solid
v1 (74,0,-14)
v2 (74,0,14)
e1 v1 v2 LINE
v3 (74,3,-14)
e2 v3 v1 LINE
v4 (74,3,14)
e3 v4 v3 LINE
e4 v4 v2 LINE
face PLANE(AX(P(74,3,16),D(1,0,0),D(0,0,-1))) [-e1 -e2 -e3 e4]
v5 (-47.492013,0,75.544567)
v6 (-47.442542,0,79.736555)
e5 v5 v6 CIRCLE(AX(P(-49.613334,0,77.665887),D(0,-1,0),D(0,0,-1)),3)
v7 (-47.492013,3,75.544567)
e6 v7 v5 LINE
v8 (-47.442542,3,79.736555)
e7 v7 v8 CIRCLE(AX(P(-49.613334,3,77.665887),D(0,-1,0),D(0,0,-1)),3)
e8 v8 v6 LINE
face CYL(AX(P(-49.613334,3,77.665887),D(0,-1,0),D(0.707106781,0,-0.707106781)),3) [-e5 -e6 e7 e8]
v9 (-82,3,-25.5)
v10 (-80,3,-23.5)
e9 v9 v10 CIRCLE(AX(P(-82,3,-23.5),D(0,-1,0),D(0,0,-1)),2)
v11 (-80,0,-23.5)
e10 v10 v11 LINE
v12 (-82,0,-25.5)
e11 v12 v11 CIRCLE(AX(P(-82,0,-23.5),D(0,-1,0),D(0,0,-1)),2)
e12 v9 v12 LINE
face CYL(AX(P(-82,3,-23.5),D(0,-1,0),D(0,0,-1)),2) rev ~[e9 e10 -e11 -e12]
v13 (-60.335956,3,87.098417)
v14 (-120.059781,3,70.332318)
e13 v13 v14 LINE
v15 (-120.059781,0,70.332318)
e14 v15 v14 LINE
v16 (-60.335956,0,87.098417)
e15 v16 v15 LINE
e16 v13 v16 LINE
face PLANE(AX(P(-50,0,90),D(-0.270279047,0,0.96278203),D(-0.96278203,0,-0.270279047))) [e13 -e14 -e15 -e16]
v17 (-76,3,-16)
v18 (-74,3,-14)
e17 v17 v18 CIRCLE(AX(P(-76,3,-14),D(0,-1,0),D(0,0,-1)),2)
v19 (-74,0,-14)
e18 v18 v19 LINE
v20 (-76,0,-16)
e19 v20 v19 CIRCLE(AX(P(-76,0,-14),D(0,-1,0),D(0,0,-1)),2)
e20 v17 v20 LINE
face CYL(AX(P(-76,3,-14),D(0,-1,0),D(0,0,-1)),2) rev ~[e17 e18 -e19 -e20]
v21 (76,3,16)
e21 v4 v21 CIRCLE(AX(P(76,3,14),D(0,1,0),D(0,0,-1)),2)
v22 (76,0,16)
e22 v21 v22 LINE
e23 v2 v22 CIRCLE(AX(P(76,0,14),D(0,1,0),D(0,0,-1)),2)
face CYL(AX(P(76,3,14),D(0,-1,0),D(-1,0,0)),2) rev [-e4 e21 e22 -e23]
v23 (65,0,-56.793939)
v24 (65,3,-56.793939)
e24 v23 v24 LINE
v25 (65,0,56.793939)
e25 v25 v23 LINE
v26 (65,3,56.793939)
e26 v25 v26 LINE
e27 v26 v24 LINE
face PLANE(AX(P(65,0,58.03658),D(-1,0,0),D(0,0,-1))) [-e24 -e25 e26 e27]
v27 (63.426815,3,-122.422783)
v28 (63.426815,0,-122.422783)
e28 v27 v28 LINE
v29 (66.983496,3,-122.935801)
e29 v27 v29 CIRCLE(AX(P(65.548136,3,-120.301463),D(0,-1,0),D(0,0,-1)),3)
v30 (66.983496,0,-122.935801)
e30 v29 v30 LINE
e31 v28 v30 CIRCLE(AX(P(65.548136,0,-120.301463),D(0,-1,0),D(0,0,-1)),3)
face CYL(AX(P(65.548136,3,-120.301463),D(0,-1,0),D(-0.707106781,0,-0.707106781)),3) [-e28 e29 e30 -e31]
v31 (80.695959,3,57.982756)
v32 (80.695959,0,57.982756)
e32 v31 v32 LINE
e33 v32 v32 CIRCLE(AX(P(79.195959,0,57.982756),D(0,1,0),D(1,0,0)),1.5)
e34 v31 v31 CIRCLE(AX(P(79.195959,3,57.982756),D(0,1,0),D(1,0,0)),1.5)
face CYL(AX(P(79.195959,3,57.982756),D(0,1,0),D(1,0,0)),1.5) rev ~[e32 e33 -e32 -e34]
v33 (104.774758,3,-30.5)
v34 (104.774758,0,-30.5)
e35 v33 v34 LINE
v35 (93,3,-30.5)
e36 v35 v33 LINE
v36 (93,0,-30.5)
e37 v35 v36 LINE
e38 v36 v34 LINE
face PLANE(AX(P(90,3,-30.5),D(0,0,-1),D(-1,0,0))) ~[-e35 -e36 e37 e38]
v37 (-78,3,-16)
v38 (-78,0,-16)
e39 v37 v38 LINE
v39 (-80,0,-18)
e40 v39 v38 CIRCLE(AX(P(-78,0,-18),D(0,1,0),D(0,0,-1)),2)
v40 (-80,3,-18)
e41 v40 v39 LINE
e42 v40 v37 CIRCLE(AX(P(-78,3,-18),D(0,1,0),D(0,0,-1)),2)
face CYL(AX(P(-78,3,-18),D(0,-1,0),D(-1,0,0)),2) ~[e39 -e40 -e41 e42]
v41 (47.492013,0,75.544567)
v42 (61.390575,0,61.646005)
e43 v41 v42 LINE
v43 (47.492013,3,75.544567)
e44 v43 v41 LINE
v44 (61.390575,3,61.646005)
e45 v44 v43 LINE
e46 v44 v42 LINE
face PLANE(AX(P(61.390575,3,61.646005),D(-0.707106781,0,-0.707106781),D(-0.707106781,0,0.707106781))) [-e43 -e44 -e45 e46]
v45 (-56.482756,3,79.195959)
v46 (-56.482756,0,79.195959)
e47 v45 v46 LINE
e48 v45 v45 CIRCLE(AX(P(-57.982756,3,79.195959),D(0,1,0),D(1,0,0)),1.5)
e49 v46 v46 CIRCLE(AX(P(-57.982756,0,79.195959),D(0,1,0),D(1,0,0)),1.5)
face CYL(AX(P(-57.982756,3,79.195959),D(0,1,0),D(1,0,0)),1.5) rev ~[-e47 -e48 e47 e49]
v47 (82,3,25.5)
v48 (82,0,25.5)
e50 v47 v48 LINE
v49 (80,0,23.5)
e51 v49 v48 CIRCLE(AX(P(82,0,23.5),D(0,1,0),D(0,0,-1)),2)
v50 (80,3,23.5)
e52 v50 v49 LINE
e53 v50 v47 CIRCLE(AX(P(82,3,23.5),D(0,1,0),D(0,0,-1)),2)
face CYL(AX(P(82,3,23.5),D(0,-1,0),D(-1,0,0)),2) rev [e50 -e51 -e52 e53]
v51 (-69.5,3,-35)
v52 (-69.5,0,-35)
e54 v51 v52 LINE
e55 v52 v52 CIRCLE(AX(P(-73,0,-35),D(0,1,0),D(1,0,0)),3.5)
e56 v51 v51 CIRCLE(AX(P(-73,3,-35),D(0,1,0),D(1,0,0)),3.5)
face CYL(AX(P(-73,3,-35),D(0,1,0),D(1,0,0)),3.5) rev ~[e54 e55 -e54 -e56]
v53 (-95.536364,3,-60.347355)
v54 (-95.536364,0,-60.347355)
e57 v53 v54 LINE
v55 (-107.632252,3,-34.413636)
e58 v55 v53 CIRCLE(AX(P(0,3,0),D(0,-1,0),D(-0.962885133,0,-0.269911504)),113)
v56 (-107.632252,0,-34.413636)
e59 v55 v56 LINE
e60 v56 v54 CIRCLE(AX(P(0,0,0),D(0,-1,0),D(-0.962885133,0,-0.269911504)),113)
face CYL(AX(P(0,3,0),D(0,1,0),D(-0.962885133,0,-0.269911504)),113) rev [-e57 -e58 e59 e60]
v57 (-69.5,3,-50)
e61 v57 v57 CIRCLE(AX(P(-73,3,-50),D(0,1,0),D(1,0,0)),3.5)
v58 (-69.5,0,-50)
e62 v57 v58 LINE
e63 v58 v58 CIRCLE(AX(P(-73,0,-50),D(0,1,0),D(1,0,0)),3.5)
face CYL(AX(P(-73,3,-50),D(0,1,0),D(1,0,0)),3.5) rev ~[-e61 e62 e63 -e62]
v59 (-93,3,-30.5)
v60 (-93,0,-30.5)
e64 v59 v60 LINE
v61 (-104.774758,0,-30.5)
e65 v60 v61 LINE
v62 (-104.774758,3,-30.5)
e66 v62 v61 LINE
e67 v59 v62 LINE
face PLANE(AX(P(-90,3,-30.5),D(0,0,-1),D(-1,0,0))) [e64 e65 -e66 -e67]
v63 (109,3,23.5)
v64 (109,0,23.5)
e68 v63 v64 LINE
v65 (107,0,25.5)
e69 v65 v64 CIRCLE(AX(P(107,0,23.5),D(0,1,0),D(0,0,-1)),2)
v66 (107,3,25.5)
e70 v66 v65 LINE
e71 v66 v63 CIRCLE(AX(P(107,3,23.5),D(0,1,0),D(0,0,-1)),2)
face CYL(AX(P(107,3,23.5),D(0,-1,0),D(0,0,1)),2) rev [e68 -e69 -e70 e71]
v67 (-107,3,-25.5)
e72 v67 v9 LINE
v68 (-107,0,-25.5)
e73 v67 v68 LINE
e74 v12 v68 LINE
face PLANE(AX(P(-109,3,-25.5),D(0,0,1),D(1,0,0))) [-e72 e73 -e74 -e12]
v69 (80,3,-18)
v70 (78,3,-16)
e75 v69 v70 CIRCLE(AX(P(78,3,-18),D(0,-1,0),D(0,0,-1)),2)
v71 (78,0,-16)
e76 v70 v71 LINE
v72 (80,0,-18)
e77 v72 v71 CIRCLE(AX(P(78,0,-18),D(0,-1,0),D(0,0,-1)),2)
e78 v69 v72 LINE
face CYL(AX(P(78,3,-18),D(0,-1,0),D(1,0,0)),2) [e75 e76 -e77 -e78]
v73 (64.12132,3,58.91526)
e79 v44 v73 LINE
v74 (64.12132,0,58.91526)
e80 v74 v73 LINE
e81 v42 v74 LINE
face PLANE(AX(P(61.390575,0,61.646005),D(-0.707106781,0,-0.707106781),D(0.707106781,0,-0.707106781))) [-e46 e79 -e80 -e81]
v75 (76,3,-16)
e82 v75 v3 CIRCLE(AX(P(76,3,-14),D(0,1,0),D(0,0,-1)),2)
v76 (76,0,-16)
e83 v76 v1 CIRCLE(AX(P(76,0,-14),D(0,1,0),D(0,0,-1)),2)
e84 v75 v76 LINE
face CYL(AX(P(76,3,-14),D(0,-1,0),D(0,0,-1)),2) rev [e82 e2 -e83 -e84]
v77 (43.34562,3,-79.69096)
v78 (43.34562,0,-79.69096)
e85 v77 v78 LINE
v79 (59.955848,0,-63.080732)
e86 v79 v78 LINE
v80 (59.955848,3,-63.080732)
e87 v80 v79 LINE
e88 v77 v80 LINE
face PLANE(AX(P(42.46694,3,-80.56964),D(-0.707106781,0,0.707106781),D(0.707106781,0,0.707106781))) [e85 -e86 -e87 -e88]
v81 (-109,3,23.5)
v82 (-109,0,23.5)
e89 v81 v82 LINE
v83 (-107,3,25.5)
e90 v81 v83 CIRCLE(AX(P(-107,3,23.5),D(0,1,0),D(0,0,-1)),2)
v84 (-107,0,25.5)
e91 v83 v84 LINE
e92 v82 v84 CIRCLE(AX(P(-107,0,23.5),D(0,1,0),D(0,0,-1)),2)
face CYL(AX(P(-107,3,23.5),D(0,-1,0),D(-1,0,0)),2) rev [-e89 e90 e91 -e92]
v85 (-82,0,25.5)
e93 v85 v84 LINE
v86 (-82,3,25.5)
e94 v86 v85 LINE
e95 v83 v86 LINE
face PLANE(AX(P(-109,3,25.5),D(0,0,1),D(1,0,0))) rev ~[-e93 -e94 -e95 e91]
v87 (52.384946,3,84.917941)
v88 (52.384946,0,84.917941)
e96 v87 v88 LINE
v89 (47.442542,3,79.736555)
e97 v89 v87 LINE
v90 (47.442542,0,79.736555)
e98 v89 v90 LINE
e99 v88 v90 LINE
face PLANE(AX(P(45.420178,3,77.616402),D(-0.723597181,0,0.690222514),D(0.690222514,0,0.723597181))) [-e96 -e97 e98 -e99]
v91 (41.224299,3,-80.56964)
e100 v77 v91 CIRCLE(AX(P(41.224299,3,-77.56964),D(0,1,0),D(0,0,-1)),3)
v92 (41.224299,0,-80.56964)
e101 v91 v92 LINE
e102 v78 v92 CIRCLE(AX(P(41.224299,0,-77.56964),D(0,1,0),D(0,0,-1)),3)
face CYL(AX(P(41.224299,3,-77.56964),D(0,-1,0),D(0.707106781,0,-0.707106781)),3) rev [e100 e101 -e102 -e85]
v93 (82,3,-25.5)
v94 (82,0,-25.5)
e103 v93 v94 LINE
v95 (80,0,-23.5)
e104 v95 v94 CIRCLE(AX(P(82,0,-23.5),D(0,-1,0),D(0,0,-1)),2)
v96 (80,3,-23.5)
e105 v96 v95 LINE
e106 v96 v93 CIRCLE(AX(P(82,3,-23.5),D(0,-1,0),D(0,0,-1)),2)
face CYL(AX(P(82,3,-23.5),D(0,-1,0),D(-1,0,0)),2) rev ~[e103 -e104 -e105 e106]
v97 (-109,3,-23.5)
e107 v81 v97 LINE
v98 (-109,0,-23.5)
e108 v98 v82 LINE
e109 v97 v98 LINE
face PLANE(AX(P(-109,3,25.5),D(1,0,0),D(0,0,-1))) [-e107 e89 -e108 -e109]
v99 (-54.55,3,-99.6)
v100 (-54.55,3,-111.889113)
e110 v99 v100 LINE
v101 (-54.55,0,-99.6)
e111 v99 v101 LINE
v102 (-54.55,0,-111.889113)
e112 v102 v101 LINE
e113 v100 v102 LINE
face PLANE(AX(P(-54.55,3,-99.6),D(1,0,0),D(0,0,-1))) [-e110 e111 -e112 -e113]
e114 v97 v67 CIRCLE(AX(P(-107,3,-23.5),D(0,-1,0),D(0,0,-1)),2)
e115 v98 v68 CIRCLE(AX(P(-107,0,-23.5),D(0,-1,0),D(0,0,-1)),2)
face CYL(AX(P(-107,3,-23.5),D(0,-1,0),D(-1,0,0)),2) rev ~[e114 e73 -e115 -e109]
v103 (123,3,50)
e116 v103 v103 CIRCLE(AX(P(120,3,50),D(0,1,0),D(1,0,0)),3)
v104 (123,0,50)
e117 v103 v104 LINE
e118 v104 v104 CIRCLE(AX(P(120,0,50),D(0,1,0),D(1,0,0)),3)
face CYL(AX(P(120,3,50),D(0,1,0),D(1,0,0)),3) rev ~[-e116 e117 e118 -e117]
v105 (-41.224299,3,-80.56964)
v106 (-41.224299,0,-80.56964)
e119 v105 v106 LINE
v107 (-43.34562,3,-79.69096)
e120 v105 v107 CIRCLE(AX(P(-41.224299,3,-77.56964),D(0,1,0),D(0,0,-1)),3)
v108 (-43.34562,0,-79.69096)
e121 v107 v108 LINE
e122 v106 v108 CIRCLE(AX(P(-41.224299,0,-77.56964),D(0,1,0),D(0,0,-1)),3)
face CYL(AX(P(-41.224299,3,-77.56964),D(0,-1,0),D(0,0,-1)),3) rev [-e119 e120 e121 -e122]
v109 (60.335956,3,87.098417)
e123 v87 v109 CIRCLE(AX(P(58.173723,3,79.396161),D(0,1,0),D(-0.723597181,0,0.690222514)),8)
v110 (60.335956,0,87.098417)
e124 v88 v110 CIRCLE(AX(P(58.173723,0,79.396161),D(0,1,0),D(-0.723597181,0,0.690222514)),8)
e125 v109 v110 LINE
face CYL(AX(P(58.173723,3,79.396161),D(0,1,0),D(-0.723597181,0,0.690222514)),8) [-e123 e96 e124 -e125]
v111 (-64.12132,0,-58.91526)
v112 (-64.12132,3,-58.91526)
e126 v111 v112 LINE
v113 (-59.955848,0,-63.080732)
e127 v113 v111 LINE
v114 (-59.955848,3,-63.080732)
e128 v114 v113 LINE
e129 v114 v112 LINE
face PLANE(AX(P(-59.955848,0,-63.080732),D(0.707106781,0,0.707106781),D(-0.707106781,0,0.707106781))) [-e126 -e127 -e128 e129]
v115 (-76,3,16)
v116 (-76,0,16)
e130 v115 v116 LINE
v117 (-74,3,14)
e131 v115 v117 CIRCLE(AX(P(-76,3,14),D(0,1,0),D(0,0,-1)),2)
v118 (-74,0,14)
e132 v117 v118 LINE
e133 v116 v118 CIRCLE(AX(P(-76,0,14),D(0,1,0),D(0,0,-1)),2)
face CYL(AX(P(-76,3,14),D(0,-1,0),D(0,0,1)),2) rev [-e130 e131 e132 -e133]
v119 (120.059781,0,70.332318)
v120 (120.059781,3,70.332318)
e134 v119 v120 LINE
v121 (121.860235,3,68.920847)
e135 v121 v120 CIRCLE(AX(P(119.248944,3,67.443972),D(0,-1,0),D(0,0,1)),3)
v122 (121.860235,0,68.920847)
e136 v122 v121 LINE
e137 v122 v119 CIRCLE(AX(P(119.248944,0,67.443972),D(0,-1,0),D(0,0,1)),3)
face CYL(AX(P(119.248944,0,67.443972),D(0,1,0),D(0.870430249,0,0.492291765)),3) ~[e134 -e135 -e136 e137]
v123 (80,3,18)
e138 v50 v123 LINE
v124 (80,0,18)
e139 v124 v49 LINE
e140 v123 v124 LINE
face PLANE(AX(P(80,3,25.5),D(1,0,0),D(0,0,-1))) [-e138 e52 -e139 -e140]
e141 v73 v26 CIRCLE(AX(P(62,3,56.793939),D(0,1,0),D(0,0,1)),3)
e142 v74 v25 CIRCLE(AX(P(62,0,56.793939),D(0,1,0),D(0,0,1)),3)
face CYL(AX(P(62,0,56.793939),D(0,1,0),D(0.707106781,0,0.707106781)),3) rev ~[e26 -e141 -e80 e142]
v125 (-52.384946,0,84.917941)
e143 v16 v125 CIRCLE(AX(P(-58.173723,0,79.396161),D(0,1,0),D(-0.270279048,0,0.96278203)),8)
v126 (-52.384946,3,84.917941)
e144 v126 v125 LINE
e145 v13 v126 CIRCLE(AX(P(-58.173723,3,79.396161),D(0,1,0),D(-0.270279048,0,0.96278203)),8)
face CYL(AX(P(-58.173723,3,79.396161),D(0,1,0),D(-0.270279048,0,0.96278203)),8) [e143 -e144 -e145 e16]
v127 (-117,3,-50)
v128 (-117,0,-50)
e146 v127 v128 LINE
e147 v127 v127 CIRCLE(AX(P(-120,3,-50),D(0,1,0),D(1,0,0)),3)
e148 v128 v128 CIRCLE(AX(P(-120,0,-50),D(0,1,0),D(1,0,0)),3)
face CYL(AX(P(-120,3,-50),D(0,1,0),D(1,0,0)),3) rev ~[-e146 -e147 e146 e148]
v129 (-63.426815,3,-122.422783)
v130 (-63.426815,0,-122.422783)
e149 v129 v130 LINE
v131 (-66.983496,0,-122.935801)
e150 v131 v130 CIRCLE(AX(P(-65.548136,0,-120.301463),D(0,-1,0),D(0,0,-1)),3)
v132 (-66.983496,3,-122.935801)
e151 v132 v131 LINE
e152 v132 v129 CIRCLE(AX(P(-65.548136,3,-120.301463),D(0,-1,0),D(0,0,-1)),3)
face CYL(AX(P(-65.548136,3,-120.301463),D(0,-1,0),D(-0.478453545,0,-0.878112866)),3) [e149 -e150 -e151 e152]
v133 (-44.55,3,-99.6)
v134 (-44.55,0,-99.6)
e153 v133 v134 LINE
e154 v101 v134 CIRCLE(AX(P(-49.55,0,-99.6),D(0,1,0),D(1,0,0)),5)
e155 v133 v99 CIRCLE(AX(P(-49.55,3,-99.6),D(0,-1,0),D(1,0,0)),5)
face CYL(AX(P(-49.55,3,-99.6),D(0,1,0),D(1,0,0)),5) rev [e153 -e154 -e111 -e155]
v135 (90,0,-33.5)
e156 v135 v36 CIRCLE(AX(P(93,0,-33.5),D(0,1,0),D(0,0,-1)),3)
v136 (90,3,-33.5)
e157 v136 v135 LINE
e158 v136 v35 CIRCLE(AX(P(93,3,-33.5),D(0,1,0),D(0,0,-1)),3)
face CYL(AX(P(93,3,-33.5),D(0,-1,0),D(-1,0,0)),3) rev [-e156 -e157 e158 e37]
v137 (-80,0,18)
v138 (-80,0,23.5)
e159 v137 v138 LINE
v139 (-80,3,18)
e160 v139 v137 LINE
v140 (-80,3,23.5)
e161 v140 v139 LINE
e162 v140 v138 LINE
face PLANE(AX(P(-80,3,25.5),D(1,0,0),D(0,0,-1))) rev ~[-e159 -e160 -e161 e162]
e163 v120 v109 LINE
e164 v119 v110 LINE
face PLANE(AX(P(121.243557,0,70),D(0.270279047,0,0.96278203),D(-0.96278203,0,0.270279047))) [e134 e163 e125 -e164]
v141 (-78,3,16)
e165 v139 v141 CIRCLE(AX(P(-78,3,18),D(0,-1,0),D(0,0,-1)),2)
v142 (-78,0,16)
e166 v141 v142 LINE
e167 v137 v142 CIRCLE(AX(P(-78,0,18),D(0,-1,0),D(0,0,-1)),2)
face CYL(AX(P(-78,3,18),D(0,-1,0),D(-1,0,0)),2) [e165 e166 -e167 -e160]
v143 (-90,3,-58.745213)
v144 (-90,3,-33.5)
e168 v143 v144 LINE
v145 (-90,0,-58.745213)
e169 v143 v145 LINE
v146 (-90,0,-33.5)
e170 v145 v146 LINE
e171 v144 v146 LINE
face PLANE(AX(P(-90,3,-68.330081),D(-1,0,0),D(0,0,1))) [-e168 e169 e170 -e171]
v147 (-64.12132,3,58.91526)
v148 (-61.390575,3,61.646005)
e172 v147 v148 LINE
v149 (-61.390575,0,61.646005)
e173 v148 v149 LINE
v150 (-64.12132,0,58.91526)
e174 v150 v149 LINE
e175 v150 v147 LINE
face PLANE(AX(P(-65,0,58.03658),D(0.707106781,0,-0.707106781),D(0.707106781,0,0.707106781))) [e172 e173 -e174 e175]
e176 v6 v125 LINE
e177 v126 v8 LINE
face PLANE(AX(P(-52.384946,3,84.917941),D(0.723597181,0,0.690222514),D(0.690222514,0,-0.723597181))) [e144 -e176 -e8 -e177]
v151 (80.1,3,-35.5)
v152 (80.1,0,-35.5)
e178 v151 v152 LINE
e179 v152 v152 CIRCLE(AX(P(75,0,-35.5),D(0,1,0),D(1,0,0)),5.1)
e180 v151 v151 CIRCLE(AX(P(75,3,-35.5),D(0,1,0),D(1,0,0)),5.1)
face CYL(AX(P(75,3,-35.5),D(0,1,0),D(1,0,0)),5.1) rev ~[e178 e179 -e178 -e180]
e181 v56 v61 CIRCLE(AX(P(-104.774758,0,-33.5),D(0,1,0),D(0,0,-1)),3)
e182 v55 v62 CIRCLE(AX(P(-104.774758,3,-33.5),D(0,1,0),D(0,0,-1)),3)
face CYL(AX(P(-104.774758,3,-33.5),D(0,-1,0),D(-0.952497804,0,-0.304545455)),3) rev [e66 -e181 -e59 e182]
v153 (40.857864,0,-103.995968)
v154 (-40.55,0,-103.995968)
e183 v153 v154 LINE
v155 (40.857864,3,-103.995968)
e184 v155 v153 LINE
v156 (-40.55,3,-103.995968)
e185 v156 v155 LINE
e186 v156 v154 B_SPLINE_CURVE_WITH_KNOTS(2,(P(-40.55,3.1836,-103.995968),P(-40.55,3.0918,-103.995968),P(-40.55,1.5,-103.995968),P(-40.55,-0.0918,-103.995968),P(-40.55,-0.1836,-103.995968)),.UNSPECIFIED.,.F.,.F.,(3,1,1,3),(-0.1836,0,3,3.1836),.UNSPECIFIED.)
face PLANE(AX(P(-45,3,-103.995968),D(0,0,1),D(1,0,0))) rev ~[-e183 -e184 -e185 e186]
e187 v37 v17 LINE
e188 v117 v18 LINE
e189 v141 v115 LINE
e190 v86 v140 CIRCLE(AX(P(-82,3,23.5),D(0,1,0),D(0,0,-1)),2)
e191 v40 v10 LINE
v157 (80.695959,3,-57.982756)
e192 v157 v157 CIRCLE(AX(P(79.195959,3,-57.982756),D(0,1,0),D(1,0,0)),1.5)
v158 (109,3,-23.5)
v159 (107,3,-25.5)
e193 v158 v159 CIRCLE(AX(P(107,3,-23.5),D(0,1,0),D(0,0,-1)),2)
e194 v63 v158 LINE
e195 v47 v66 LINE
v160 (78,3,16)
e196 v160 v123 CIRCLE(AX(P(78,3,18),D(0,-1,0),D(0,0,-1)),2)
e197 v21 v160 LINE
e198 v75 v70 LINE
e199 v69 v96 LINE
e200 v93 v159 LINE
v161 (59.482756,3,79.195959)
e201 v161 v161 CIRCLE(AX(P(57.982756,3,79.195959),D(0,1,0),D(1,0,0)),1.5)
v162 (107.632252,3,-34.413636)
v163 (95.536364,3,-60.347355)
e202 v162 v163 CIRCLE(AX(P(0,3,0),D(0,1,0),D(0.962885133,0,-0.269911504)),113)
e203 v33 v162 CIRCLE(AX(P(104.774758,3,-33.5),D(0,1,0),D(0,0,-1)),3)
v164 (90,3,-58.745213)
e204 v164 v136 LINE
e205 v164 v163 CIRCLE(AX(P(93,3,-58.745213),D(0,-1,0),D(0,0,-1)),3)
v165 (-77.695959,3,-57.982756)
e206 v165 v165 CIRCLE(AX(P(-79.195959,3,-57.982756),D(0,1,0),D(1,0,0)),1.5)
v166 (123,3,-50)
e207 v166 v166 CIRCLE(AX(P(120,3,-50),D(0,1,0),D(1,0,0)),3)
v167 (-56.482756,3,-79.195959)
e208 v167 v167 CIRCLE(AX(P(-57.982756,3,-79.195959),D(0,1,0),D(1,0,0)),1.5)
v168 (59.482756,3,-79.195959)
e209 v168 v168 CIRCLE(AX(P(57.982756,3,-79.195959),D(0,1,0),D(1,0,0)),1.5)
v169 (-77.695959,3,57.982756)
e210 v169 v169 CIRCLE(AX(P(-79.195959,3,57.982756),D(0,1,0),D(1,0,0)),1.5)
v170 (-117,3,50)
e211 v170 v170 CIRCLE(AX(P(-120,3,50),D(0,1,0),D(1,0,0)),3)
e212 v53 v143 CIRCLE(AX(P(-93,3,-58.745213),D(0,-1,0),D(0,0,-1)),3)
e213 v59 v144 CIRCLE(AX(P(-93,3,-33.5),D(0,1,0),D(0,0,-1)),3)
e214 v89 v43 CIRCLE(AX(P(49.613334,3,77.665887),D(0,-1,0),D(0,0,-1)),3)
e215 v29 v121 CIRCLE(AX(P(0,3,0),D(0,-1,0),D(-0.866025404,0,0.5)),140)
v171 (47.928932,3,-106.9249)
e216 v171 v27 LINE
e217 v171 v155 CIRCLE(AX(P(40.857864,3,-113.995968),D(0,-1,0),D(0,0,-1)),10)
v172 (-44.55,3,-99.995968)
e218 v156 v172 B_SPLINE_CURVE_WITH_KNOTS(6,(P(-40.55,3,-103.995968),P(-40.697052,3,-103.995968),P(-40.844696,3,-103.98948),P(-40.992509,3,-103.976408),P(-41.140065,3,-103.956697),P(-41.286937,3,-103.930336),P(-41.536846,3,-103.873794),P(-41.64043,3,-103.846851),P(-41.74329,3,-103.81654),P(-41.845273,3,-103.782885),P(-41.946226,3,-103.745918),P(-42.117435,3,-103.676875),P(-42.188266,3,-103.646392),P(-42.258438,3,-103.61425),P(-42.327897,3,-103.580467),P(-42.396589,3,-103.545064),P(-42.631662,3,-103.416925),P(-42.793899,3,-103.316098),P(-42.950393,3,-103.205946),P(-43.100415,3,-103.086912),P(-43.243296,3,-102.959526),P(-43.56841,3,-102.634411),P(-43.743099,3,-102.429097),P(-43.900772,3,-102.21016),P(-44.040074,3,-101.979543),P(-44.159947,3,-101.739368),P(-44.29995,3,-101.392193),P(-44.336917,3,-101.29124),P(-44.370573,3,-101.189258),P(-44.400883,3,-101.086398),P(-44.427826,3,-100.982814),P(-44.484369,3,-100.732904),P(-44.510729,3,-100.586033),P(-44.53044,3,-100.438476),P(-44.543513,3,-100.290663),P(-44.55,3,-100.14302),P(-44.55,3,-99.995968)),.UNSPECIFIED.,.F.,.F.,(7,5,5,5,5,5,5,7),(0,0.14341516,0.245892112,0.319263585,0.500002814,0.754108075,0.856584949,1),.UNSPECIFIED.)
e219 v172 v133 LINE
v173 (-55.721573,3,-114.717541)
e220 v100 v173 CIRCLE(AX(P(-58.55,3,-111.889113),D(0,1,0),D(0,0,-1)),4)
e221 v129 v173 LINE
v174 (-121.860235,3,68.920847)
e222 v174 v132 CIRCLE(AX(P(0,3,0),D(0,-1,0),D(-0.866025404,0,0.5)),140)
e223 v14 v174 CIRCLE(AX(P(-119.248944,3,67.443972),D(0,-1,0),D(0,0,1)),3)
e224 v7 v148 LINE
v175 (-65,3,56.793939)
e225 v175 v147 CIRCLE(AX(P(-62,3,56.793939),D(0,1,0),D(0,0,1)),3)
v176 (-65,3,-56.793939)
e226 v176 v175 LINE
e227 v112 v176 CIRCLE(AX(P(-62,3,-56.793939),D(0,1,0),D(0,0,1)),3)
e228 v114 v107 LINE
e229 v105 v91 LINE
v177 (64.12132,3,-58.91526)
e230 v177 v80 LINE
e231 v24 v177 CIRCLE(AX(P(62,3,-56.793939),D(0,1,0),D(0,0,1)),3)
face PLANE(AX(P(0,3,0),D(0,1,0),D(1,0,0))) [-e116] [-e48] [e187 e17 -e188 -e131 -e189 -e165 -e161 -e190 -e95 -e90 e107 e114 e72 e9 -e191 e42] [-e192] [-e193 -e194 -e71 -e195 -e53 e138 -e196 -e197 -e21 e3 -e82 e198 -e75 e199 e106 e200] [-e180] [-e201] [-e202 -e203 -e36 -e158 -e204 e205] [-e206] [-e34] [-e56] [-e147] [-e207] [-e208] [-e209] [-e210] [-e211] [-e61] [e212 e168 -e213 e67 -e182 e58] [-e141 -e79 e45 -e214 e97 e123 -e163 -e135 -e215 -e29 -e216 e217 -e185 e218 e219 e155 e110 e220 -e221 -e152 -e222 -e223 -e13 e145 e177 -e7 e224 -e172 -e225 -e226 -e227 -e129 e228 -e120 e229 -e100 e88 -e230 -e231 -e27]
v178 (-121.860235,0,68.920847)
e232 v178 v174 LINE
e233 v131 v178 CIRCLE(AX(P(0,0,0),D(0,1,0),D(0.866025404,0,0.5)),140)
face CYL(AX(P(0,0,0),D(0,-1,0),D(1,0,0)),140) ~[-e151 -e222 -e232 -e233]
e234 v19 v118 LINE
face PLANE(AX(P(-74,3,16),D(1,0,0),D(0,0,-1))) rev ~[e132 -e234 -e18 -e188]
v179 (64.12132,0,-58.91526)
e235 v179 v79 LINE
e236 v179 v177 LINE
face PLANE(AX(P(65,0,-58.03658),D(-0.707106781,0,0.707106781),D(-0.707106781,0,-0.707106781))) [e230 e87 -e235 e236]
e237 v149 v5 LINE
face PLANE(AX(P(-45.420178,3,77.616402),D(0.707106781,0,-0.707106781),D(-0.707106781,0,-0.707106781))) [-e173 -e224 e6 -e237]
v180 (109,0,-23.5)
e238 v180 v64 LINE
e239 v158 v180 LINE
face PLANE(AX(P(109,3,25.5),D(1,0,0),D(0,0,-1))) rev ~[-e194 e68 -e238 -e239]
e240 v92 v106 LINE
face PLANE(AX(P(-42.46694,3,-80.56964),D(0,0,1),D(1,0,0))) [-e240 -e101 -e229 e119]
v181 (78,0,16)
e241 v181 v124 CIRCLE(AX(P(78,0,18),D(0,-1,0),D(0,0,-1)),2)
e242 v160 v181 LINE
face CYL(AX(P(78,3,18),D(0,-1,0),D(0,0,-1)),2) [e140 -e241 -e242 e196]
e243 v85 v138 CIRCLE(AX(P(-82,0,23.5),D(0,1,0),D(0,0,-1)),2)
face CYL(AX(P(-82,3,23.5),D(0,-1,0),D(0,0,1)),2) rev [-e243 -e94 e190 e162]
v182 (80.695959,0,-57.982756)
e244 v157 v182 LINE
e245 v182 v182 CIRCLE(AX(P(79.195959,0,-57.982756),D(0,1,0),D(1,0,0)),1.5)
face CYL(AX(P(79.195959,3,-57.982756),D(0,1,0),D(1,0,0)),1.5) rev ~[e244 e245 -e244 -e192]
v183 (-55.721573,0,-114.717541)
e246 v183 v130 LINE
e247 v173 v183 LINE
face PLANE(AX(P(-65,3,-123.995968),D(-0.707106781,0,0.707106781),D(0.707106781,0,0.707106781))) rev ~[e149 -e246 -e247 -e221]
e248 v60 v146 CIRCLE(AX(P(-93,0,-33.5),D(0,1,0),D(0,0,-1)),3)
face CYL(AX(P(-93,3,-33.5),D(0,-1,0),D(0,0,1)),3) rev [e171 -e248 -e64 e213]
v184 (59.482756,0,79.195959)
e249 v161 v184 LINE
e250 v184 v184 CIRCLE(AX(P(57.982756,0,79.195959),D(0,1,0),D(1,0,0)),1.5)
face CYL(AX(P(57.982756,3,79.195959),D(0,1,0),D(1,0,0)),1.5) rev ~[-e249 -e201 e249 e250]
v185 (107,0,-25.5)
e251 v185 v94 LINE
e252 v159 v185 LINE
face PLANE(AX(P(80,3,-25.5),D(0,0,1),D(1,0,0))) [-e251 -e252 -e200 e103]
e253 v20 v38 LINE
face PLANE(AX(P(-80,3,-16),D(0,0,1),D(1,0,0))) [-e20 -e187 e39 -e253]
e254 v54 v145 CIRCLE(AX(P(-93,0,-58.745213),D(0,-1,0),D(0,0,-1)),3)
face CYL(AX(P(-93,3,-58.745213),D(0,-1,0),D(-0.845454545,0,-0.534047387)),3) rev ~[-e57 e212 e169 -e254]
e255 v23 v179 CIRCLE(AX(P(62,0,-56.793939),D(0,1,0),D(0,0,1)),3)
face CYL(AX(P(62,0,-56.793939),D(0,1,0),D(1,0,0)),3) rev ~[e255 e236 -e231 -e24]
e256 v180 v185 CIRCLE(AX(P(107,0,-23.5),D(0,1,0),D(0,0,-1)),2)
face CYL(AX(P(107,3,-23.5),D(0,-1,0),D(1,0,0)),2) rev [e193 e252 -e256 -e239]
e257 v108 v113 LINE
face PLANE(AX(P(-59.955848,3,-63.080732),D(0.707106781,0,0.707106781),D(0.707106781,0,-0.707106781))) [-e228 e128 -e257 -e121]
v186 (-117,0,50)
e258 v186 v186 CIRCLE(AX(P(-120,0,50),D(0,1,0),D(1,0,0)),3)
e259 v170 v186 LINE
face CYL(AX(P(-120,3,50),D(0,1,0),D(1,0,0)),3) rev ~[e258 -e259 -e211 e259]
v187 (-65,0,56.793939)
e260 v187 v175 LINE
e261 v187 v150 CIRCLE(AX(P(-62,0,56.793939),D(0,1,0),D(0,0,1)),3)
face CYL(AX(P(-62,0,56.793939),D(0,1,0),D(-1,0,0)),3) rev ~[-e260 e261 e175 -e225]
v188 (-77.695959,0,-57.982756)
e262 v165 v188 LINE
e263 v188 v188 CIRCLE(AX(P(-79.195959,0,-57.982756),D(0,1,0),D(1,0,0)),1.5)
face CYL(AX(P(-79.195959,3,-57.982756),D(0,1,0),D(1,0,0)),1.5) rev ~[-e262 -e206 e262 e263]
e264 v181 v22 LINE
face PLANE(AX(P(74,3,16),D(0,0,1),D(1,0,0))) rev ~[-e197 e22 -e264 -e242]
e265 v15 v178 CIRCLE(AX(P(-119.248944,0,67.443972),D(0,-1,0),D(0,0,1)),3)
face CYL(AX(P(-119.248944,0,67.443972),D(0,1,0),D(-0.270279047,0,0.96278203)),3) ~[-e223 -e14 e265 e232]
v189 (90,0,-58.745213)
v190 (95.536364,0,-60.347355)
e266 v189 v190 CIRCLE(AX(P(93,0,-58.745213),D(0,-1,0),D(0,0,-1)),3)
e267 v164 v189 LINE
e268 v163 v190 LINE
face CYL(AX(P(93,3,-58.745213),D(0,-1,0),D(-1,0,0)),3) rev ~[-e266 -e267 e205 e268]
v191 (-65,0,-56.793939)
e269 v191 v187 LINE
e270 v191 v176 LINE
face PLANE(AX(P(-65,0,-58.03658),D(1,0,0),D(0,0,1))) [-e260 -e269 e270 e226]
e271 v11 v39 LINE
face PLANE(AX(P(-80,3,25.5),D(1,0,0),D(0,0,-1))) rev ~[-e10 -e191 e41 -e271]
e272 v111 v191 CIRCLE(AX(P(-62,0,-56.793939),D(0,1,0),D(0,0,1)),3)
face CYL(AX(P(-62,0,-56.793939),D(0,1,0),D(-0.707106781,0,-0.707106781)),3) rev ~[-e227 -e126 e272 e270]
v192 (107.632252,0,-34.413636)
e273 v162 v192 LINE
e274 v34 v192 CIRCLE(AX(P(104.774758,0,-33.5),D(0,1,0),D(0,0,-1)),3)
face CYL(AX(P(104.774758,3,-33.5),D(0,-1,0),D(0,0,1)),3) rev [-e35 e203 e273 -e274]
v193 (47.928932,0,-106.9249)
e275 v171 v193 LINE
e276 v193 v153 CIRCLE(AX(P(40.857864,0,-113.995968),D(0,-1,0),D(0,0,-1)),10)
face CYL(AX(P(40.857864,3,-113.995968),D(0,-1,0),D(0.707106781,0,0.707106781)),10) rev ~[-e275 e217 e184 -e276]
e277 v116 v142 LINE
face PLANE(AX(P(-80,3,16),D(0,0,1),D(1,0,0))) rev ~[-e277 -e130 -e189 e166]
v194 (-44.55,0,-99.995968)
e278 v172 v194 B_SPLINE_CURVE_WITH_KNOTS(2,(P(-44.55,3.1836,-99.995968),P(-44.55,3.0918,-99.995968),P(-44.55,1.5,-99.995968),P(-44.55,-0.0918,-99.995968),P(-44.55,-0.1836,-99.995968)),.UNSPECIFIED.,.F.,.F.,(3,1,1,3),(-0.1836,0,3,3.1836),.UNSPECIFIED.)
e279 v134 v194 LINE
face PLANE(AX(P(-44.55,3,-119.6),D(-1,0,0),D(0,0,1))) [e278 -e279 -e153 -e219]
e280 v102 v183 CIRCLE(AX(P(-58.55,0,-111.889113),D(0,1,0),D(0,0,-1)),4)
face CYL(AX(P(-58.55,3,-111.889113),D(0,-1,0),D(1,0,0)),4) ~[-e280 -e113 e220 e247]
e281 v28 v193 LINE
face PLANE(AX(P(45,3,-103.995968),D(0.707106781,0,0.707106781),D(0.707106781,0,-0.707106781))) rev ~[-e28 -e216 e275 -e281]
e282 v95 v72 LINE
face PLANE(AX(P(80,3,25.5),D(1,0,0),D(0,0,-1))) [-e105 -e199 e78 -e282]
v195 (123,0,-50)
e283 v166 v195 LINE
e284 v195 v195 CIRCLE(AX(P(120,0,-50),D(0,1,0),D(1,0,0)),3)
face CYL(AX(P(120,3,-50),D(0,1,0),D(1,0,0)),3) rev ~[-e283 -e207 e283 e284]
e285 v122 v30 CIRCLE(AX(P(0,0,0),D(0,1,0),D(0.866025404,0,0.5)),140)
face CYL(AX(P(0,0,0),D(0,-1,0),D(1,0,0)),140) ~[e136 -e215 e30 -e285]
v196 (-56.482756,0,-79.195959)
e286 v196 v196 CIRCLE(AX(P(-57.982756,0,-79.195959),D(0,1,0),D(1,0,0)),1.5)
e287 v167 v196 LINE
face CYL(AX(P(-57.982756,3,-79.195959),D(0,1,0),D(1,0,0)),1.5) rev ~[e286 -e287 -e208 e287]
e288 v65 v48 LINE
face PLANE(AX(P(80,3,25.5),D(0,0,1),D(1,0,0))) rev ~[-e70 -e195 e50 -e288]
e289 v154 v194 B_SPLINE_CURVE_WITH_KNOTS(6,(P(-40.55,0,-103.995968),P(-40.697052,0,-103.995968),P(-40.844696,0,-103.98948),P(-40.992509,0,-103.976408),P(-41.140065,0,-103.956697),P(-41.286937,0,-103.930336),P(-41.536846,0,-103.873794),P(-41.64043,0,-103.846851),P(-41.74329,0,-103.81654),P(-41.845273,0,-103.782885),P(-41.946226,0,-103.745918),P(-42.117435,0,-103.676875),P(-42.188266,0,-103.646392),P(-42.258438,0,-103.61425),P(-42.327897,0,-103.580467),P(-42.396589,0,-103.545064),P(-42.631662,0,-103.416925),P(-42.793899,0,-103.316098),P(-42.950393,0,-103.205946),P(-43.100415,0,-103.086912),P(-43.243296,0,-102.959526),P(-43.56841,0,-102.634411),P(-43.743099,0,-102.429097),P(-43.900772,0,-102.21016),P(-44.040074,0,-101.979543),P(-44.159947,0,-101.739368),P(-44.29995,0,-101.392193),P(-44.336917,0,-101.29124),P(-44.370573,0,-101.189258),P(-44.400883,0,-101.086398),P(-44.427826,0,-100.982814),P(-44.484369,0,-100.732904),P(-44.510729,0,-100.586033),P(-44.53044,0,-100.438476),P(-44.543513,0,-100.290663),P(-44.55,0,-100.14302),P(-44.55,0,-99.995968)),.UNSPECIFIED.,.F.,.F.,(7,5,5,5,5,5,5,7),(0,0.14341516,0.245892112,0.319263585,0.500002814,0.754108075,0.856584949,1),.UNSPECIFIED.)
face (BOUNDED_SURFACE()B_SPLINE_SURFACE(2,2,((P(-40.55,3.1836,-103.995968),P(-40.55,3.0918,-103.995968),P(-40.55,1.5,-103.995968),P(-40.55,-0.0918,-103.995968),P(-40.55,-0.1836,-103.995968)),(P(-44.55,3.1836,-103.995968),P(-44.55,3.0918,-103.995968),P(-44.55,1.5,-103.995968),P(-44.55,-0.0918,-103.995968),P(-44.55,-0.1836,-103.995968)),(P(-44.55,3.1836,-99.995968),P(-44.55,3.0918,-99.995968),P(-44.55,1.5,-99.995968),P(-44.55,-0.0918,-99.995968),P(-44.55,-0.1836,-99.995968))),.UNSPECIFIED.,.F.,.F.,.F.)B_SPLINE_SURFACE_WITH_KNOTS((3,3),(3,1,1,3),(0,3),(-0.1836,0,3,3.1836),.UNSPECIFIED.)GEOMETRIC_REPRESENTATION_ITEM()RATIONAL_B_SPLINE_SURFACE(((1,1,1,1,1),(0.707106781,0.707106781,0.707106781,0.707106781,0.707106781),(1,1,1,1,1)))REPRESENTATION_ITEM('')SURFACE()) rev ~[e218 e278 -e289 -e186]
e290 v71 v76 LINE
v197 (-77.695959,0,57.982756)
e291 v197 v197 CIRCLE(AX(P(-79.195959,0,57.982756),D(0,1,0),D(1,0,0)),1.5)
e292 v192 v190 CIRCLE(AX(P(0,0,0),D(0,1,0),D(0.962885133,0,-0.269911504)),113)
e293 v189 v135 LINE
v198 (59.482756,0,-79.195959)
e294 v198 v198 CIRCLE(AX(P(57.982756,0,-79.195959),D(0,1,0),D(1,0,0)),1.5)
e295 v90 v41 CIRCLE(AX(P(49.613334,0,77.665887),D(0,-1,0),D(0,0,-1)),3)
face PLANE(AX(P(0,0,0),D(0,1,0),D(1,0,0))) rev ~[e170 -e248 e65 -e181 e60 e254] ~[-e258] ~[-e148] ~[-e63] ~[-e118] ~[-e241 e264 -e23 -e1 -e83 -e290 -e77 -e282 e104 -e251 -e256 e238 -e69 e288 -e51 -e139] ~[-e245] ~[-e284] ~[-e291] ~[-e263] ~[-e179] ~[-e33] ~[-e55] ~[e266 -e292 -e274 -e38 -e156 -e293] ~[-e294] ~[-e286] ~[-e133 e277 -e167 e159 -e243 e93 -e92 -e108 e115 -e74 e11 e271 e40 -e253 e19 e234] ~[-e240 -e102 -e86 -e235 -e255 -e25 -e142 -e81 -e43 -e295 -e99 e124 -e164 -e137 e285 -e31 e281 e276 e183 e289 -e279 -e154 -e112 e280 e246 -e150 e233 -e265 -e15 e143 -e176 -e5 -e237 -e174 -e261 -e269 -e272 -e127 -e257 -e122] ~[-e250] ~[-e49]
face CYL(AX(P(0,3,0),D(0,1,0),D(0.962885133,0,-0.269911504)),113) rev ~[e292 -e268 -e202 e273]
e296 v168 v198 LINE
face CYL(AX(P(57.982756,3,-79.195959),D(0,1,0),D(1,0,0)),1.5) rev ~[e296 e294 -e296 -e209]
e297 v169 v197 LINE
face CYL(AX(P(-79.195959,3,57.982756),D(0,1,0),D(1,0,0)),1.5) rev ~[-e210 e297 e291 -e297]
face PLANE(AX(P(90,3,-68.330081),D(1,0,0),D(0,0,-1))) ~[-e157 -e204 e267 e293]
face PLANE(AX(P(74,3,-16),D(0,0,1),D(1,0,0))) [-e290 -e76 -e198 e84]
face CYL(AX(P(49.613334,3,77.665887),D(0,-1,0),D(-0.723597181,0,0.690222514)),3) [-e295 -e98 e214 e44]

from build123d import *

# Parameters (mm, degrees)
SKETCH1_R            = 140
BOSS_EXTRUDE1_DEPTH  = 3
CUT_EXTRUDE1_REACH   = 5
CUT_EXTRUDE3_REACH   = 5
SKETCH19_R           = 1.5
CUT_EXTRUDE4_REACH   = 5
CUT_EXTRUDE5_REACH   = 5
FILLET1_R            = 20
FILLET2_R            = 10
CUT_EXTRUDE6_REACH   = 5
SKETCH22_W           = 29
SKETCH22_H           = 51
CUT_EXTRUDE15_REACH  = 5
SKETCH31_W           = 6
SKETCH31_H           = 32
FILLET3_R            = 2
CUT_EXTRUDE7_REACH   = 5
SKETCH23_R           = 3
CUT_EXTRUDE8_DEPTH   = 3
FILLET4_R            = 3
FILLET4_OF_MIRROR1_R = 3
CUT_EXTRUDE10_START  = -3
CUT_EXTRUDE10_DEPTH  = 3
CUT_EXTRUDE11_REACH  = 5
SKETCH27_W           = 84.933880008
SKETCH27_H           = 18.347014885
CUT_EXTRUDE12_REACH  = 5
FILLET5_R            = 3
FILLET6_R            = 4
CUT_EXTRUDE13_REACH  = 5
SKETCH29_R           = 5.1
CUT_EXTRUDE14_REACH  = 5
SKETCH30_R           = 3.5


with BuildPart() as part:
    # Sketch1 → Boss-Extrude1 (new body)
    with BuildSketch(Plane(origin=(0, 0, 0), x_dir=(1, 0, 0), z_dir=(0, 1, 0))):
        Circle(SKETCH1_R)
    extrude(amount=BOSS_EXTRUDE1_DEPTH)

    # Sketch17 → Cut-Extrude1 (cut, up to next)
    with BuildSketch(Plane.XZ, mode=Mode.PRIVATE) as cut_extrude1_sk1:
        Polygon((-50, 90), (-121.24355653, 70), (-121.24355653, 140), (121.24355653, 140), (121.24355653, 70), (50, 90), align=None)
    cut_extrude1_tool1 = extrude(cut_extrude1_sk1.sketch, amount=-CUT_EXTRUDE1_REACH, mode=Mode.PRIVATE) & part.part
    add(cut_extrude1_tool1.solids().sort_by_distance((0, 0, 111.669853))[0], mode=Mode.SUBTRACT)

    # Sketch19 → Cut-Extrude3 (cut, up to next)
    with BuildSketch(Plane(origin=(0, 3, 0), x_dir=(1, 0, 0), z_dir=(0, 1, 0)), mode=Mode.PRIVATE) as cut_extrude3_sk1:
        with Locations((-79.195959493, -57.982756057)):
            Circle(SKETCH19_R)
    cut_extrude3_tool1 = extrude(cut_extrude3_sk1.sketch, amount=-CUT_EXTRUDE3_REACH, mode=Mode.PRIVATE) & part.part
    add(cut_extrude3_tool1.solids().sort_by_distance((-79.195959, 3, 57.982756))[0], mode=Mode.SUBTRACT)
    # Sketch19 → Cut-Extrude3 (cut, up to next)
    with BuildSketch(Plane(origin=(0, 3, 0), x_dir=(1, 0, 0), z_dir=(0, 1, 0)), mode=Mode.PRIVATE) as cut_extrude3_sk2:
        with Locations((-79.195959493, 57.982756057)):
            Circle(SKETCH19_R)
    cut_extrude3_tool2 = extrude(cut_extrude3_sk2.sketch, amount=-CUT_EXTRUDE3_REACH, mode=Mode.PRIVATE) & part.part
    add(cut_extrude3_tool2.solids().sort_by_distance((-79.195959, 3, -57.982756))[0], mode=Mode.SUBTRACT)
    # Sketch19 → Cut-Extrude3 (cut, up to next)
    with BuildSketch(Plane(origin=(0, 3, 0), x_dir=(1, 0, 0), z_dir=(0, 1, 0)), mode=Mode.PRIVATE) as cut_extrude3_sk3:
        with Locations((79.195959493, 57.982756057)):
            Circle(SKETCH19_R)
    cut_extrude3_tool3 = extrude(cut_extrude3_sk3.sketch, amount=-CUT_EXTRUDE3_REACH, mode=Mode.PRIVATE) & part.part
    add(cut_extrude3_tool3.solids().sort_by_distance((79.195959, 3, -57.982756))[0], mode=Mode.SUBTRACT)
    # Sketch19 → Cut-Extrude3 (cut, up to next)
    with BuildSketch(Plane(origin=(0, 3, 0), x_dir=(1, 0, 0), z_dir=(0, 1, 0)), mode=Mode.PRIVATE) as cut_extrude3_sk4:
        with Locations((79.195959493, -57.982756057)):
            Circle(SKETCH19_R)
    cut_extrude3_tool4 = extrude(cut_extrude3_sk4.sketch, amount=-CUT_EXTRUDE3_REACH, mode=Mode.PRIVATE) & part.part
    add(cut_extrude3_tool4.solids().sort_by_distance((79.195959, 3, 57.982756))[0], mode=Mode.SUBTRACT)
    # Sketch19 → Cut-Extrude3 (cut, up to next)
    with BuildSketch(Plane(origin=(0, 3, 0), x_dir=(1, 0, 0), z_dir=(0, 1, 0)), mode=Mode.PRIVATE) as cut_extrude3_sk5:
        with Locations((-57.982756057, -79.195959493)):
            Circle(SKETCH19_R)
    cut_extrude3_tool5 = extrude(cut_extrude3_sk5.sketch, amount=-CUT_EXTRUDE3_REACH, mode=Mode.PRIVATE) & part.part
    add(cut_extrude3_tool5.solids().sort_by_distance((-57.982756, 3, 79.195959))[0], mode=Mode.SUBTRACT)
    # Sketch19 → Cut-Extrude3 (cut, up to next)
    with BuildSketch(Plane(origin=(0, 3, 0), x_dir=(1, 0, 0), z_dir=(0, 1, 0)), mode=Mode.PRIVATE) as cut_extrude3_sk6:
        with Locations((57.982756057, 79.195959493)):
            Circle(SKETCH19_R)
    cut_extrude3_tool6 = extrude(cut_extrude3_sk6.sketch, amount=-CUT_EXTRUDE3_REACH, mode=Mode.PRIVATE) & part.part
    add(cut_extrude3_tool6.solids().sort_by_distance((57.982756, 3, -79.195959))[0], mode=Mode.SUBTRACT)
    # Sketch19 → Cut-Extrude3 (cut, up to next)
    with BuildSketch(Plane(origin=(0, 3, 0), x_dir=(1, 0, 0), z_dir=(0, 1, 0)), mode=Mode.PRIVATE) as cut_extrude3_sk7:
        with Locations((-57.982756057, 79.195959493)):
            Circle(SKETCH19_R)
    cut_extrude3_tool7 = extrude(cut_extrude3_sk7.sketch, amount=-CUT_EXTRUDE3_REACH, mode=Mode.PRIVATE) & part.part
    add(cut_extrude3_tool7.solids().sort_by_distance((-57.982756, 3, -79.195959))[0], mode=Mode.SUBTRACT)
    # Sketch19 → Cut-Extrude3 (cut, up to next)
    with BuildSketch(Plane(origin=(0, 3, 0), x_dir=(1, 0, 0), z_dir=(0, 1, 0)), mode=Mode.PRIVATE) as cut_extrude3_sk8:
        with Locations((57.982756057, -79.195959493)):
            Circle(SKETCH19_R)
    cut_extrude3_tool8 = extrude(cut_extrude3_sk8.sketch, amount=-CUT_EXTRUDE3_REACH, mode=Mode.PRIVATE) & part.part
    add(cut_extrude3_tool8.solids().sort_by_distance((57.982756, 3, 79.195959))[0], mode=Mode.SUBTRACT)

    # Sketch20 → Cut-Extrude4 (cut, up to next)
    with BuildSketch(Plane(origin=(0, 3, 0), x_dir=(1, 0, 0), z_dir=(0, 1, 0)), mode=Mode.PRIVATE) as cut_extrude4_sk1:
        Polygon((-491.163597408, 550.159565085), (-65, 123.995967676), (-45, 103.995967676), (45, 103.995967676), (65, 123.995967676), (491.163597408, 550.159565085), (491.163597408, 1755.532243574), (-491.163597408, 1755.532243574), align=None)
    cut_extrude4_tool1 = extrude(cut_extrude4_sk1.sketch, amount=-CUT_EXTRUDE4_REACH, mode=Mode.PRIVATE) & part.part
    add(cut_extrude4_tool1.solids().sort_by_distance((0, 3, -1024.45638))[0], mode=Mode.SUBTRACT)

    # Sketch21 → Cut-Extrude5 (cut, up to next)
    with BuildSketch(Plane(origin=(0, 3, 0), x_dir=(1, 0, 0), z_dir=(0, 1, 0)), mode=Mode.PRIVATE) as cut_extrude5_sk1:
        with BuildLine():
            Line((-42.466940004, 80.569639922), (0, 60))
            Line((0, 60), (42.466940004, 80.569639922))
            Line((42.466940004, 80.569639922), (59.955847787, 63.08073214))
            Line((59.955847787, 63.08073214), (40, 15))
            Line((40, 15), (61.390574802, -61.646005125))
            Line((61.390574802, -61.646005125), (45.420177914, -77.616402013))
            Line((45.420177914, -77.616402013), (52.384945698, -84.917940623))
            ThreePointArc((52.384945698, -84.917940623), (56.057931023, -87.111303002), (60.335955528, -87.098416746))
            Line((60.335955528, -87.098416746), (50, -90))
            Line((50, -90), (-50, -90))
            Line((-50, -90), (-60.335955528, -87.098416746))
            ThreePointArc((-60.335955528, -87.098416746), (-56.057931023, -87.111303002), (-52.384945698, -84.917940623))
            Line((-52.384945698, -84.917940623), (-45.420177914, -77.616402013))
            Line((-45.420177914, -77.616402013), (-61.390574802, -61.646005125))
            Line((-61.390574802, -61.646005125), (-40, 15))
            Line((-40, 15), (-59.955847787, 63.08073214))
            Line((-59.955847787, 63.08073214), (-42.466940004, 80.569639922))
        make_face()
    cut_extrude5_tool1 = extrude(cut_extrude5_sk1.sketch, amount=-CUT_EXTRUDE5_REACH, mode=Mode.PRIVATE) & part.part
    add(cut_extrude5_tool1.solids().sort_by_distance((0, 3, 10.206035))[0], mode=Mode.SUBTRACT)

    # Fillet1
    fillet1_edges = [part.edges().sort_by_distance(p)[0] for p in [
        (-40, 1.5, -15),
        (0, 1.5, -60),
        (40, 1.5, -15),
    ]]
    fillet(fillet1_edges, radius=FILLET1_R)

    # Fillet2
    fillet2_edges = [part.edges().sort_by_distance(p)[0] for p in [
        (45, 1.5, -103.995967676),
        (-45, 1.5, -103.995967676),
    ]]
    fillet(fillet2_edges, radius=FILLET2_R)

    # Sketch22 → Cut-Extrude6 (cut, up to next)
    with BuildSketch(Plane(origin=(0, 3, 0), x_dir=(1, 0, 0), z_dir=(0, 1, 0)), mode=Mode.PRIVATE) as cut_extrude6_sk1:
        with Locations((94.5, 0)):
            Rectangle(SKETCH22_W, SKETCH22_H)
    cut_extrude6_tool1 = extrude(cut_extrude6_sk1.sketch, amount=-CUT_EXTRUDE6_REACH, mode=Mode.PRIVATE) & part.part
    add(cut_extrude6_tool1.solids().sort_by_distance((94.5, 3, 0))[0], mode=Mode.SUBTRACT)
    # Sketch22 → Cut-Extrude6 (cut, up to next)
    with BuildSketch(Plane(origin=(0, 3, 0), x_dir=(1, 0, 0), z_dir=(0, 1, 0)), mode=Mode.PRIVATE) as cut_extrude6_sk2:
        with Locations((-94.5, 0)):
            Rectangle(SKETCH22_W, SKETCH22_H)
    cut_extrude6_tool2 = extrude(cut_extrude6_sk2.sketch, amount=-CUT_EXTRUDE6_REACH, mode=Mode.PRIVATE) & part.part
    add(cut_extrude6_tool2.solids().sort_by_distance((-94.5, 3, 0))[0], mode=Mode.SUBTRACT)

    # Sketch31 → Cut-Extrude15 (cut, up to next)
    with BuildSketch(Plane(origin=(0, 3, 0), x_dir=(1, 0, 0), z_dir=(0, 1, 0)), mode=Mode.PRIVATE) as cut_extrude15_sk1:
        with Locations((-77, 0)):
            Rectangle(SKETCH31_W, SKETCH31_H)
    cut_extrude15_tool1 = extrude(cut_extrude15_sk1.sketch, amount=-CUT_EXTRUDE15_REACH, mode=Mode.PRIVATE) & part.part
    add(cut_extrude15_tool1.solids().sort_by_distance((-77, 3, 0))[0], mode=Mode.SUBTRACT)
    # Sketch31 → Cut-Extrude15 (cut, up to next)
    with BuildSketch(Plane(origin=(0, 3, 0), x_dir=(1, 0, 0), z_dir=(0, 1, 0)), mode=Mode.PRIVATE) as cut_extrude15_sk2:
        with Locations((77, 0)):
            Rectangle(SKETCH31_W, SKETCH31_H)
    cut_extrude15_tool2 = extrude(cut_extrude15_sk2.sketch, amount=-CUT_EXTRUDE15_REACH, mode=Mode.PRIVATE) & part.part
    add(cut_extrude15_tool2.solids().sort_by_distance((77, 3, 0))[0], mode=Mode.SUBTRACT)

    # Fillet3
    fillet3_edges = [part.edges().sort_by_distance(p)[0] for p in [
        (80, 1.5, 25.5),
        (80, 1.5, -25.5),
        (109, 1.5, -25.5),
        (109, 1.5, 25.5),
        (-109, 1.5, 25.5),
        (-109, 1.5, -25.5),
        (-80, 1.5, -25.5),
        (-80, 1.5, 25.5),
        (-80, 1.5, 16),
        (-80, 1.5, -16),
        (-74, 1.5, -16),
        (-74, 1.5, 16),
        (80, 1.5, -16),
        (80, 1.5, 16),
        (74, 1.5, 16),
        (74, 1.5, -16),
    ]]
    fillet(fillet3_edges, radius=FILLET3_R)

    # Sketch23 → Cut-Extrude7 (cut, up to next)
    with BuildSketch(Plane(origin=(0, 3, 0), x_dir=(1, 0, 0), z_dir=(0, 1, 0)), mode=Mode.PRIVATE) as cut_extrude7_sk1:
        with Locations((-120, 50)):
            Circle(SKETCH23_R)
    cut_extrude7_tool1 = extrude(cut_extrude7_sk1.sketch, amount=-CUT_EXTRUDE7_REACH, mode=Mode.PRIVATE) & part.part
    add(cut_extrude7_tool1.solids().sort_by_distance((-120, 3, -50))[0], mode=Mode.SUBTRACT)
    # Sketch23 → Cut-Extrude7 (cut, up to next)
    with BuildSketch(Plane(origin=(0, 3, 0), x_dir=(1, 0, 0), z_dir=(0, 1, 0)), mode=Mode.PRIVATE) as cut_extrude7_sk2:
        with Locations((-120, -50)):
            Circle(SKETCH23_R)
    cut_extrude7_tool2 = extrude(cut_extrude7_sk2.sketch, amount=-CUT_EXTRUDE7_REACH, mode=Mode.PRIVATE) & part.part
    add(cut_extrude7_tool2.solids().sort_by_distance((-120, 3, 50))[0], mode=Mode.SUBTRACT)
    # Sketch23 → Cut-Extrude7 (cut, up to next)
    with BuildSketch(Plane(origin=(0, 3, 0), x_dir=(1, 0, 0), z_dir=(0, 1, 0)), mode=Mode.PRIVATE) as cut_extrude7_sk3:
        with Locations((120, -50)):
            Circle(SKETCH23_R)
    cut_extrude7_tool3 = extrude(cut_extrude7_sk3.sketch, amount=-CUT_EXTRUDE7_REACH, mode=Mode.PRIVATE) & part.part
    add(cut_extrude7_tool3.solids().sort_by_distance((120, 3, 50))[0], mode=Mode.SUBTRACT)
    # Sketch23 → Cut-Extrude7 (cut, up to next)
    with BuildSketch(Plane(origin=(0, 3, 0), x_dir=(1, 0, 0), z_dir=(0, 1, 0)), mode=Mode.PRIVATE) as cut_extrude7_sk4:
        with Locations((120, 50)):
            Circle(SKETCH23_R)
    cut_extrude7_tool4 = extrude(cut_extrude7_sk4.sketch, amount=-CUT_EXTRUDE7_REACH, mode=Mode.PRIVATE) & part.part
    add(cut_extrude7_tool4.solids().sort_by_distance((120, 3, -50))[0], mode=Mode.SUBTRACT)

    # Sketch24 → Cut-Extrude8 (cut)
    with BuildSketch(Plane(origin=(0, 3, 0), x_dir=(1, 0, 0), z_dir=(0, 1, 0))):
        with BuildLine():
            Line((-90, 68.330081223), (-90, 30.5))
            Line((-90, 30.5), (-108.806020054, 30.5))
            ThreePointArc((-108.806020054, 30.5), (-101.186645185, 50.301718025), (-90, 68.330081223))
        make_face()
    cut_extrude8 = extrude(amount=-CUT_EXTRUDE8_DEPTH, mode=Mode.SUBTRACT)

    # Fillet4
    fillet4_edges = [part.edges().sort_by_distance(p)[0] for p in [
        (-108.806020054, 1.5, -30.5),
        (-90, 1.5, -68.330081223),
        (-90, 1.5, -30.5),
    ]]
    fillet(fillet4_edges, radius=FILLET4_R)

    # Mirror1: Cut-Extrude8 across plane
    add(cut_extrude8.mirror(Plane(origin=(0, 0, 0), x_dir=(0, 0, 1), z_dir=(1, 0, 0))), mode=Mode.SUBTRACT)

    # Fillet4 of Mirror1
    fillet4_of_mirror1_edges = [part.edges().sort_by_distance(p)[0] for p in [
        (108.806020054, 1.5, -30.5),
        (90, 1.5, -68.330081223),
        (90, 1.5, -30.5),
    ]]
    fillet(fillet4_of_mirror1_edges, radius=FILLET4_OF_MIRROR1_R)

    # Sketch26 → Cut-Extrude10 (cut)
    with BuildSketch(Plane(origin=(0, 3, 0), x_dir=(1, 0, 0), z_dir=(0, 1, 0)).offset(CUT_EXTRUDE10_START)):
        Polygon((-59.955847787, 63.08073214), (-65, 58.036579926), (-65, -58.036579926), (-61.390574802, -61.646005125), (61.390574802, -61.646005125), (65, -58.036579926), (65, 58.036579926), (59.955847787, 63.08073214), align=None)
    extrude(amount=CUT_EXTRUDE10_DEPTH, mode=Mode.SUBTRACT)

    # Sketch27 → Cut-Extrude11 (cut, up to next)
    with BuildSketch(Plane(origin=(0, 3, 0), x_dir=(1, 0, 0), z_dir=(0, 1, 0)), mode=Mode.PRIVATE) as cut_extrude11_sk1:
        with Locations((0, 71.39613248)):
            Rectangle(SKETCH27_W, SKETCH27_H)
    cut_extrude11_tool1 = extrude(cut_extrude11_sk1.sketch, amount=-CUT_EXTRUDE11_REACH, mode=Mode.PRIVATE) & part.part
    add(cut_extrude11_tool1.solids().sort_by_distance((0, 3, -71.396132))[0], mode=Mode.SUBTRACT)

    # Sketch28 → Cut-Extrude12 (cut, up to next)
    with BuildSketch(Plane(origin=(0, 3, 0), x_dir=(1, 0, 0), z_dir=(0, 1, 0)), mode=Mode.PRIVATE) as cut_extrude12_sk1:
        with BuildLine():
            Line((-54.55, 99.6), (-54.55, 119.6))
            ThreePointArc((-54.55, 119.6), (-49.55, 124.6), (-44.55, 119.6))
            Line((-44.55, 119.6), (-44.55, 99.6))
            ThreePointArc((-44.55, 99.6), (-49.55, 94.6), (-54.55, 99.6))
        make_face()
    cut_extrude12_tool1 = extrude(cut_extrude12_sk1.sketch, amount=-CUT_EXTRUDE12_REACH, mode=Mode.PRIVATE) & part.part
    add(cut_extrude12_tool1.solids().sort_by_distance((-49.55, 3, -109.6))[0], mode=Mode.SUBTRACT)

    # Fillet5
    fillet5_edges = [part.edges().sort_by_distance(p)[0] for p in [
        (121.24355653, 1.5, 70),
        (-121.24355653, 1.5, 70),
        (-65, 1.5, -58.036579926),
        (-65, 1.5, 58.036579926),
        (65, 1.5, -58.036579926),
        (65, 1.5, 58.036579926),
        (65, 1.5, -123.995967676),
        (-65, 1.5, -123.995967676),
        (-45.420177914, 1.5, 77.616402013),
        (-42.466940004, 1.5, -80.569639922),
        (42.466940004, 1.5, -80.569639922),
        (45.420177914, 1.5, 77.616402013),
    ]]
    fillet(fillet5_edges, radius=FILLET5_R)

    # Fillet6
    fillet6_edges = [part.edges().sort_by_distance(p)[0] for p in [
        (-44.55, 1.5, -104.702521893),
        (-54.55, 1.5, -113.545967676),
    ]]
    fillet(fillet6_edges, radius=FILLET6_R)

    # Sketch29 → Cut-Extrude13 (cut, up to next)
    with BuildSketch(Plane(origin=(0, 3, 0), x_dir=(1, 0, 0), z_dir=(0, 1, 0)), mode=Mode.PRIVATE) as cut_extrude13_sk1:
        with Locations((75, 35.5)):
            Circle(SKETCH29_R)
    cut_extrude13_tool1 = extrude(cut_extrude13_sk1.sketch, amount=-CUT_EXTRUDE13_REACH, mode=Mode.PRIVATE) & part.part
    add(cut_extrude13_tool1.solids().sort_by_distance((75, 3, -35.5))[0], mode=Mode.SUBTRACT)

    # Sketch30 → Cut-Extrude14 (cut, up to next)
    with BuildSketch(Plane(origin=(0, 3, 0), x_dir=(1, 0, 0), z_dir=(0, 1, 0)), mode=Mode.PRIVATE) as cut_extrude14_sk1:
        with Locations((-73, 50)):
            Circle(SKETCH30_R)
    cut_extrude14_tool1 = extrude(cut_extrude14_sk1.sketch, amount=-CUT_EXTRUDE14_REACH, mode=Mode.PRIVATE) & part.part
    add(cut_extrude14_tool1.solids().sort_by_distance((-73, 3, -50))[0], mode=Mode.SUBTRACT)
    # Sketch30 → Cut-Extrude14 (cut, up to next)
    with BuildSketch(Plane(origin=(0, 3, 0), x_dir=(1, 0, 0), z_dir=(0, 1, 0)), mode=Mode.PRIVATE) as cut_extrude14_sk2:
        with Locations((-73, 35)):
            Circle(SKETCH30_R)
    cut_extrude14_tool2 = extrude(cut_extrude14_sk2.sketch, amount=-CUT_EXTRUDE14_REACH, mode=Mode.PRIVATE) & part.part
    add(cut_extrude14_tool2.solids().sort_by_distance((-73, 3, -35))[0], mode=Mode.SUBTRACT)


solid = part.part
